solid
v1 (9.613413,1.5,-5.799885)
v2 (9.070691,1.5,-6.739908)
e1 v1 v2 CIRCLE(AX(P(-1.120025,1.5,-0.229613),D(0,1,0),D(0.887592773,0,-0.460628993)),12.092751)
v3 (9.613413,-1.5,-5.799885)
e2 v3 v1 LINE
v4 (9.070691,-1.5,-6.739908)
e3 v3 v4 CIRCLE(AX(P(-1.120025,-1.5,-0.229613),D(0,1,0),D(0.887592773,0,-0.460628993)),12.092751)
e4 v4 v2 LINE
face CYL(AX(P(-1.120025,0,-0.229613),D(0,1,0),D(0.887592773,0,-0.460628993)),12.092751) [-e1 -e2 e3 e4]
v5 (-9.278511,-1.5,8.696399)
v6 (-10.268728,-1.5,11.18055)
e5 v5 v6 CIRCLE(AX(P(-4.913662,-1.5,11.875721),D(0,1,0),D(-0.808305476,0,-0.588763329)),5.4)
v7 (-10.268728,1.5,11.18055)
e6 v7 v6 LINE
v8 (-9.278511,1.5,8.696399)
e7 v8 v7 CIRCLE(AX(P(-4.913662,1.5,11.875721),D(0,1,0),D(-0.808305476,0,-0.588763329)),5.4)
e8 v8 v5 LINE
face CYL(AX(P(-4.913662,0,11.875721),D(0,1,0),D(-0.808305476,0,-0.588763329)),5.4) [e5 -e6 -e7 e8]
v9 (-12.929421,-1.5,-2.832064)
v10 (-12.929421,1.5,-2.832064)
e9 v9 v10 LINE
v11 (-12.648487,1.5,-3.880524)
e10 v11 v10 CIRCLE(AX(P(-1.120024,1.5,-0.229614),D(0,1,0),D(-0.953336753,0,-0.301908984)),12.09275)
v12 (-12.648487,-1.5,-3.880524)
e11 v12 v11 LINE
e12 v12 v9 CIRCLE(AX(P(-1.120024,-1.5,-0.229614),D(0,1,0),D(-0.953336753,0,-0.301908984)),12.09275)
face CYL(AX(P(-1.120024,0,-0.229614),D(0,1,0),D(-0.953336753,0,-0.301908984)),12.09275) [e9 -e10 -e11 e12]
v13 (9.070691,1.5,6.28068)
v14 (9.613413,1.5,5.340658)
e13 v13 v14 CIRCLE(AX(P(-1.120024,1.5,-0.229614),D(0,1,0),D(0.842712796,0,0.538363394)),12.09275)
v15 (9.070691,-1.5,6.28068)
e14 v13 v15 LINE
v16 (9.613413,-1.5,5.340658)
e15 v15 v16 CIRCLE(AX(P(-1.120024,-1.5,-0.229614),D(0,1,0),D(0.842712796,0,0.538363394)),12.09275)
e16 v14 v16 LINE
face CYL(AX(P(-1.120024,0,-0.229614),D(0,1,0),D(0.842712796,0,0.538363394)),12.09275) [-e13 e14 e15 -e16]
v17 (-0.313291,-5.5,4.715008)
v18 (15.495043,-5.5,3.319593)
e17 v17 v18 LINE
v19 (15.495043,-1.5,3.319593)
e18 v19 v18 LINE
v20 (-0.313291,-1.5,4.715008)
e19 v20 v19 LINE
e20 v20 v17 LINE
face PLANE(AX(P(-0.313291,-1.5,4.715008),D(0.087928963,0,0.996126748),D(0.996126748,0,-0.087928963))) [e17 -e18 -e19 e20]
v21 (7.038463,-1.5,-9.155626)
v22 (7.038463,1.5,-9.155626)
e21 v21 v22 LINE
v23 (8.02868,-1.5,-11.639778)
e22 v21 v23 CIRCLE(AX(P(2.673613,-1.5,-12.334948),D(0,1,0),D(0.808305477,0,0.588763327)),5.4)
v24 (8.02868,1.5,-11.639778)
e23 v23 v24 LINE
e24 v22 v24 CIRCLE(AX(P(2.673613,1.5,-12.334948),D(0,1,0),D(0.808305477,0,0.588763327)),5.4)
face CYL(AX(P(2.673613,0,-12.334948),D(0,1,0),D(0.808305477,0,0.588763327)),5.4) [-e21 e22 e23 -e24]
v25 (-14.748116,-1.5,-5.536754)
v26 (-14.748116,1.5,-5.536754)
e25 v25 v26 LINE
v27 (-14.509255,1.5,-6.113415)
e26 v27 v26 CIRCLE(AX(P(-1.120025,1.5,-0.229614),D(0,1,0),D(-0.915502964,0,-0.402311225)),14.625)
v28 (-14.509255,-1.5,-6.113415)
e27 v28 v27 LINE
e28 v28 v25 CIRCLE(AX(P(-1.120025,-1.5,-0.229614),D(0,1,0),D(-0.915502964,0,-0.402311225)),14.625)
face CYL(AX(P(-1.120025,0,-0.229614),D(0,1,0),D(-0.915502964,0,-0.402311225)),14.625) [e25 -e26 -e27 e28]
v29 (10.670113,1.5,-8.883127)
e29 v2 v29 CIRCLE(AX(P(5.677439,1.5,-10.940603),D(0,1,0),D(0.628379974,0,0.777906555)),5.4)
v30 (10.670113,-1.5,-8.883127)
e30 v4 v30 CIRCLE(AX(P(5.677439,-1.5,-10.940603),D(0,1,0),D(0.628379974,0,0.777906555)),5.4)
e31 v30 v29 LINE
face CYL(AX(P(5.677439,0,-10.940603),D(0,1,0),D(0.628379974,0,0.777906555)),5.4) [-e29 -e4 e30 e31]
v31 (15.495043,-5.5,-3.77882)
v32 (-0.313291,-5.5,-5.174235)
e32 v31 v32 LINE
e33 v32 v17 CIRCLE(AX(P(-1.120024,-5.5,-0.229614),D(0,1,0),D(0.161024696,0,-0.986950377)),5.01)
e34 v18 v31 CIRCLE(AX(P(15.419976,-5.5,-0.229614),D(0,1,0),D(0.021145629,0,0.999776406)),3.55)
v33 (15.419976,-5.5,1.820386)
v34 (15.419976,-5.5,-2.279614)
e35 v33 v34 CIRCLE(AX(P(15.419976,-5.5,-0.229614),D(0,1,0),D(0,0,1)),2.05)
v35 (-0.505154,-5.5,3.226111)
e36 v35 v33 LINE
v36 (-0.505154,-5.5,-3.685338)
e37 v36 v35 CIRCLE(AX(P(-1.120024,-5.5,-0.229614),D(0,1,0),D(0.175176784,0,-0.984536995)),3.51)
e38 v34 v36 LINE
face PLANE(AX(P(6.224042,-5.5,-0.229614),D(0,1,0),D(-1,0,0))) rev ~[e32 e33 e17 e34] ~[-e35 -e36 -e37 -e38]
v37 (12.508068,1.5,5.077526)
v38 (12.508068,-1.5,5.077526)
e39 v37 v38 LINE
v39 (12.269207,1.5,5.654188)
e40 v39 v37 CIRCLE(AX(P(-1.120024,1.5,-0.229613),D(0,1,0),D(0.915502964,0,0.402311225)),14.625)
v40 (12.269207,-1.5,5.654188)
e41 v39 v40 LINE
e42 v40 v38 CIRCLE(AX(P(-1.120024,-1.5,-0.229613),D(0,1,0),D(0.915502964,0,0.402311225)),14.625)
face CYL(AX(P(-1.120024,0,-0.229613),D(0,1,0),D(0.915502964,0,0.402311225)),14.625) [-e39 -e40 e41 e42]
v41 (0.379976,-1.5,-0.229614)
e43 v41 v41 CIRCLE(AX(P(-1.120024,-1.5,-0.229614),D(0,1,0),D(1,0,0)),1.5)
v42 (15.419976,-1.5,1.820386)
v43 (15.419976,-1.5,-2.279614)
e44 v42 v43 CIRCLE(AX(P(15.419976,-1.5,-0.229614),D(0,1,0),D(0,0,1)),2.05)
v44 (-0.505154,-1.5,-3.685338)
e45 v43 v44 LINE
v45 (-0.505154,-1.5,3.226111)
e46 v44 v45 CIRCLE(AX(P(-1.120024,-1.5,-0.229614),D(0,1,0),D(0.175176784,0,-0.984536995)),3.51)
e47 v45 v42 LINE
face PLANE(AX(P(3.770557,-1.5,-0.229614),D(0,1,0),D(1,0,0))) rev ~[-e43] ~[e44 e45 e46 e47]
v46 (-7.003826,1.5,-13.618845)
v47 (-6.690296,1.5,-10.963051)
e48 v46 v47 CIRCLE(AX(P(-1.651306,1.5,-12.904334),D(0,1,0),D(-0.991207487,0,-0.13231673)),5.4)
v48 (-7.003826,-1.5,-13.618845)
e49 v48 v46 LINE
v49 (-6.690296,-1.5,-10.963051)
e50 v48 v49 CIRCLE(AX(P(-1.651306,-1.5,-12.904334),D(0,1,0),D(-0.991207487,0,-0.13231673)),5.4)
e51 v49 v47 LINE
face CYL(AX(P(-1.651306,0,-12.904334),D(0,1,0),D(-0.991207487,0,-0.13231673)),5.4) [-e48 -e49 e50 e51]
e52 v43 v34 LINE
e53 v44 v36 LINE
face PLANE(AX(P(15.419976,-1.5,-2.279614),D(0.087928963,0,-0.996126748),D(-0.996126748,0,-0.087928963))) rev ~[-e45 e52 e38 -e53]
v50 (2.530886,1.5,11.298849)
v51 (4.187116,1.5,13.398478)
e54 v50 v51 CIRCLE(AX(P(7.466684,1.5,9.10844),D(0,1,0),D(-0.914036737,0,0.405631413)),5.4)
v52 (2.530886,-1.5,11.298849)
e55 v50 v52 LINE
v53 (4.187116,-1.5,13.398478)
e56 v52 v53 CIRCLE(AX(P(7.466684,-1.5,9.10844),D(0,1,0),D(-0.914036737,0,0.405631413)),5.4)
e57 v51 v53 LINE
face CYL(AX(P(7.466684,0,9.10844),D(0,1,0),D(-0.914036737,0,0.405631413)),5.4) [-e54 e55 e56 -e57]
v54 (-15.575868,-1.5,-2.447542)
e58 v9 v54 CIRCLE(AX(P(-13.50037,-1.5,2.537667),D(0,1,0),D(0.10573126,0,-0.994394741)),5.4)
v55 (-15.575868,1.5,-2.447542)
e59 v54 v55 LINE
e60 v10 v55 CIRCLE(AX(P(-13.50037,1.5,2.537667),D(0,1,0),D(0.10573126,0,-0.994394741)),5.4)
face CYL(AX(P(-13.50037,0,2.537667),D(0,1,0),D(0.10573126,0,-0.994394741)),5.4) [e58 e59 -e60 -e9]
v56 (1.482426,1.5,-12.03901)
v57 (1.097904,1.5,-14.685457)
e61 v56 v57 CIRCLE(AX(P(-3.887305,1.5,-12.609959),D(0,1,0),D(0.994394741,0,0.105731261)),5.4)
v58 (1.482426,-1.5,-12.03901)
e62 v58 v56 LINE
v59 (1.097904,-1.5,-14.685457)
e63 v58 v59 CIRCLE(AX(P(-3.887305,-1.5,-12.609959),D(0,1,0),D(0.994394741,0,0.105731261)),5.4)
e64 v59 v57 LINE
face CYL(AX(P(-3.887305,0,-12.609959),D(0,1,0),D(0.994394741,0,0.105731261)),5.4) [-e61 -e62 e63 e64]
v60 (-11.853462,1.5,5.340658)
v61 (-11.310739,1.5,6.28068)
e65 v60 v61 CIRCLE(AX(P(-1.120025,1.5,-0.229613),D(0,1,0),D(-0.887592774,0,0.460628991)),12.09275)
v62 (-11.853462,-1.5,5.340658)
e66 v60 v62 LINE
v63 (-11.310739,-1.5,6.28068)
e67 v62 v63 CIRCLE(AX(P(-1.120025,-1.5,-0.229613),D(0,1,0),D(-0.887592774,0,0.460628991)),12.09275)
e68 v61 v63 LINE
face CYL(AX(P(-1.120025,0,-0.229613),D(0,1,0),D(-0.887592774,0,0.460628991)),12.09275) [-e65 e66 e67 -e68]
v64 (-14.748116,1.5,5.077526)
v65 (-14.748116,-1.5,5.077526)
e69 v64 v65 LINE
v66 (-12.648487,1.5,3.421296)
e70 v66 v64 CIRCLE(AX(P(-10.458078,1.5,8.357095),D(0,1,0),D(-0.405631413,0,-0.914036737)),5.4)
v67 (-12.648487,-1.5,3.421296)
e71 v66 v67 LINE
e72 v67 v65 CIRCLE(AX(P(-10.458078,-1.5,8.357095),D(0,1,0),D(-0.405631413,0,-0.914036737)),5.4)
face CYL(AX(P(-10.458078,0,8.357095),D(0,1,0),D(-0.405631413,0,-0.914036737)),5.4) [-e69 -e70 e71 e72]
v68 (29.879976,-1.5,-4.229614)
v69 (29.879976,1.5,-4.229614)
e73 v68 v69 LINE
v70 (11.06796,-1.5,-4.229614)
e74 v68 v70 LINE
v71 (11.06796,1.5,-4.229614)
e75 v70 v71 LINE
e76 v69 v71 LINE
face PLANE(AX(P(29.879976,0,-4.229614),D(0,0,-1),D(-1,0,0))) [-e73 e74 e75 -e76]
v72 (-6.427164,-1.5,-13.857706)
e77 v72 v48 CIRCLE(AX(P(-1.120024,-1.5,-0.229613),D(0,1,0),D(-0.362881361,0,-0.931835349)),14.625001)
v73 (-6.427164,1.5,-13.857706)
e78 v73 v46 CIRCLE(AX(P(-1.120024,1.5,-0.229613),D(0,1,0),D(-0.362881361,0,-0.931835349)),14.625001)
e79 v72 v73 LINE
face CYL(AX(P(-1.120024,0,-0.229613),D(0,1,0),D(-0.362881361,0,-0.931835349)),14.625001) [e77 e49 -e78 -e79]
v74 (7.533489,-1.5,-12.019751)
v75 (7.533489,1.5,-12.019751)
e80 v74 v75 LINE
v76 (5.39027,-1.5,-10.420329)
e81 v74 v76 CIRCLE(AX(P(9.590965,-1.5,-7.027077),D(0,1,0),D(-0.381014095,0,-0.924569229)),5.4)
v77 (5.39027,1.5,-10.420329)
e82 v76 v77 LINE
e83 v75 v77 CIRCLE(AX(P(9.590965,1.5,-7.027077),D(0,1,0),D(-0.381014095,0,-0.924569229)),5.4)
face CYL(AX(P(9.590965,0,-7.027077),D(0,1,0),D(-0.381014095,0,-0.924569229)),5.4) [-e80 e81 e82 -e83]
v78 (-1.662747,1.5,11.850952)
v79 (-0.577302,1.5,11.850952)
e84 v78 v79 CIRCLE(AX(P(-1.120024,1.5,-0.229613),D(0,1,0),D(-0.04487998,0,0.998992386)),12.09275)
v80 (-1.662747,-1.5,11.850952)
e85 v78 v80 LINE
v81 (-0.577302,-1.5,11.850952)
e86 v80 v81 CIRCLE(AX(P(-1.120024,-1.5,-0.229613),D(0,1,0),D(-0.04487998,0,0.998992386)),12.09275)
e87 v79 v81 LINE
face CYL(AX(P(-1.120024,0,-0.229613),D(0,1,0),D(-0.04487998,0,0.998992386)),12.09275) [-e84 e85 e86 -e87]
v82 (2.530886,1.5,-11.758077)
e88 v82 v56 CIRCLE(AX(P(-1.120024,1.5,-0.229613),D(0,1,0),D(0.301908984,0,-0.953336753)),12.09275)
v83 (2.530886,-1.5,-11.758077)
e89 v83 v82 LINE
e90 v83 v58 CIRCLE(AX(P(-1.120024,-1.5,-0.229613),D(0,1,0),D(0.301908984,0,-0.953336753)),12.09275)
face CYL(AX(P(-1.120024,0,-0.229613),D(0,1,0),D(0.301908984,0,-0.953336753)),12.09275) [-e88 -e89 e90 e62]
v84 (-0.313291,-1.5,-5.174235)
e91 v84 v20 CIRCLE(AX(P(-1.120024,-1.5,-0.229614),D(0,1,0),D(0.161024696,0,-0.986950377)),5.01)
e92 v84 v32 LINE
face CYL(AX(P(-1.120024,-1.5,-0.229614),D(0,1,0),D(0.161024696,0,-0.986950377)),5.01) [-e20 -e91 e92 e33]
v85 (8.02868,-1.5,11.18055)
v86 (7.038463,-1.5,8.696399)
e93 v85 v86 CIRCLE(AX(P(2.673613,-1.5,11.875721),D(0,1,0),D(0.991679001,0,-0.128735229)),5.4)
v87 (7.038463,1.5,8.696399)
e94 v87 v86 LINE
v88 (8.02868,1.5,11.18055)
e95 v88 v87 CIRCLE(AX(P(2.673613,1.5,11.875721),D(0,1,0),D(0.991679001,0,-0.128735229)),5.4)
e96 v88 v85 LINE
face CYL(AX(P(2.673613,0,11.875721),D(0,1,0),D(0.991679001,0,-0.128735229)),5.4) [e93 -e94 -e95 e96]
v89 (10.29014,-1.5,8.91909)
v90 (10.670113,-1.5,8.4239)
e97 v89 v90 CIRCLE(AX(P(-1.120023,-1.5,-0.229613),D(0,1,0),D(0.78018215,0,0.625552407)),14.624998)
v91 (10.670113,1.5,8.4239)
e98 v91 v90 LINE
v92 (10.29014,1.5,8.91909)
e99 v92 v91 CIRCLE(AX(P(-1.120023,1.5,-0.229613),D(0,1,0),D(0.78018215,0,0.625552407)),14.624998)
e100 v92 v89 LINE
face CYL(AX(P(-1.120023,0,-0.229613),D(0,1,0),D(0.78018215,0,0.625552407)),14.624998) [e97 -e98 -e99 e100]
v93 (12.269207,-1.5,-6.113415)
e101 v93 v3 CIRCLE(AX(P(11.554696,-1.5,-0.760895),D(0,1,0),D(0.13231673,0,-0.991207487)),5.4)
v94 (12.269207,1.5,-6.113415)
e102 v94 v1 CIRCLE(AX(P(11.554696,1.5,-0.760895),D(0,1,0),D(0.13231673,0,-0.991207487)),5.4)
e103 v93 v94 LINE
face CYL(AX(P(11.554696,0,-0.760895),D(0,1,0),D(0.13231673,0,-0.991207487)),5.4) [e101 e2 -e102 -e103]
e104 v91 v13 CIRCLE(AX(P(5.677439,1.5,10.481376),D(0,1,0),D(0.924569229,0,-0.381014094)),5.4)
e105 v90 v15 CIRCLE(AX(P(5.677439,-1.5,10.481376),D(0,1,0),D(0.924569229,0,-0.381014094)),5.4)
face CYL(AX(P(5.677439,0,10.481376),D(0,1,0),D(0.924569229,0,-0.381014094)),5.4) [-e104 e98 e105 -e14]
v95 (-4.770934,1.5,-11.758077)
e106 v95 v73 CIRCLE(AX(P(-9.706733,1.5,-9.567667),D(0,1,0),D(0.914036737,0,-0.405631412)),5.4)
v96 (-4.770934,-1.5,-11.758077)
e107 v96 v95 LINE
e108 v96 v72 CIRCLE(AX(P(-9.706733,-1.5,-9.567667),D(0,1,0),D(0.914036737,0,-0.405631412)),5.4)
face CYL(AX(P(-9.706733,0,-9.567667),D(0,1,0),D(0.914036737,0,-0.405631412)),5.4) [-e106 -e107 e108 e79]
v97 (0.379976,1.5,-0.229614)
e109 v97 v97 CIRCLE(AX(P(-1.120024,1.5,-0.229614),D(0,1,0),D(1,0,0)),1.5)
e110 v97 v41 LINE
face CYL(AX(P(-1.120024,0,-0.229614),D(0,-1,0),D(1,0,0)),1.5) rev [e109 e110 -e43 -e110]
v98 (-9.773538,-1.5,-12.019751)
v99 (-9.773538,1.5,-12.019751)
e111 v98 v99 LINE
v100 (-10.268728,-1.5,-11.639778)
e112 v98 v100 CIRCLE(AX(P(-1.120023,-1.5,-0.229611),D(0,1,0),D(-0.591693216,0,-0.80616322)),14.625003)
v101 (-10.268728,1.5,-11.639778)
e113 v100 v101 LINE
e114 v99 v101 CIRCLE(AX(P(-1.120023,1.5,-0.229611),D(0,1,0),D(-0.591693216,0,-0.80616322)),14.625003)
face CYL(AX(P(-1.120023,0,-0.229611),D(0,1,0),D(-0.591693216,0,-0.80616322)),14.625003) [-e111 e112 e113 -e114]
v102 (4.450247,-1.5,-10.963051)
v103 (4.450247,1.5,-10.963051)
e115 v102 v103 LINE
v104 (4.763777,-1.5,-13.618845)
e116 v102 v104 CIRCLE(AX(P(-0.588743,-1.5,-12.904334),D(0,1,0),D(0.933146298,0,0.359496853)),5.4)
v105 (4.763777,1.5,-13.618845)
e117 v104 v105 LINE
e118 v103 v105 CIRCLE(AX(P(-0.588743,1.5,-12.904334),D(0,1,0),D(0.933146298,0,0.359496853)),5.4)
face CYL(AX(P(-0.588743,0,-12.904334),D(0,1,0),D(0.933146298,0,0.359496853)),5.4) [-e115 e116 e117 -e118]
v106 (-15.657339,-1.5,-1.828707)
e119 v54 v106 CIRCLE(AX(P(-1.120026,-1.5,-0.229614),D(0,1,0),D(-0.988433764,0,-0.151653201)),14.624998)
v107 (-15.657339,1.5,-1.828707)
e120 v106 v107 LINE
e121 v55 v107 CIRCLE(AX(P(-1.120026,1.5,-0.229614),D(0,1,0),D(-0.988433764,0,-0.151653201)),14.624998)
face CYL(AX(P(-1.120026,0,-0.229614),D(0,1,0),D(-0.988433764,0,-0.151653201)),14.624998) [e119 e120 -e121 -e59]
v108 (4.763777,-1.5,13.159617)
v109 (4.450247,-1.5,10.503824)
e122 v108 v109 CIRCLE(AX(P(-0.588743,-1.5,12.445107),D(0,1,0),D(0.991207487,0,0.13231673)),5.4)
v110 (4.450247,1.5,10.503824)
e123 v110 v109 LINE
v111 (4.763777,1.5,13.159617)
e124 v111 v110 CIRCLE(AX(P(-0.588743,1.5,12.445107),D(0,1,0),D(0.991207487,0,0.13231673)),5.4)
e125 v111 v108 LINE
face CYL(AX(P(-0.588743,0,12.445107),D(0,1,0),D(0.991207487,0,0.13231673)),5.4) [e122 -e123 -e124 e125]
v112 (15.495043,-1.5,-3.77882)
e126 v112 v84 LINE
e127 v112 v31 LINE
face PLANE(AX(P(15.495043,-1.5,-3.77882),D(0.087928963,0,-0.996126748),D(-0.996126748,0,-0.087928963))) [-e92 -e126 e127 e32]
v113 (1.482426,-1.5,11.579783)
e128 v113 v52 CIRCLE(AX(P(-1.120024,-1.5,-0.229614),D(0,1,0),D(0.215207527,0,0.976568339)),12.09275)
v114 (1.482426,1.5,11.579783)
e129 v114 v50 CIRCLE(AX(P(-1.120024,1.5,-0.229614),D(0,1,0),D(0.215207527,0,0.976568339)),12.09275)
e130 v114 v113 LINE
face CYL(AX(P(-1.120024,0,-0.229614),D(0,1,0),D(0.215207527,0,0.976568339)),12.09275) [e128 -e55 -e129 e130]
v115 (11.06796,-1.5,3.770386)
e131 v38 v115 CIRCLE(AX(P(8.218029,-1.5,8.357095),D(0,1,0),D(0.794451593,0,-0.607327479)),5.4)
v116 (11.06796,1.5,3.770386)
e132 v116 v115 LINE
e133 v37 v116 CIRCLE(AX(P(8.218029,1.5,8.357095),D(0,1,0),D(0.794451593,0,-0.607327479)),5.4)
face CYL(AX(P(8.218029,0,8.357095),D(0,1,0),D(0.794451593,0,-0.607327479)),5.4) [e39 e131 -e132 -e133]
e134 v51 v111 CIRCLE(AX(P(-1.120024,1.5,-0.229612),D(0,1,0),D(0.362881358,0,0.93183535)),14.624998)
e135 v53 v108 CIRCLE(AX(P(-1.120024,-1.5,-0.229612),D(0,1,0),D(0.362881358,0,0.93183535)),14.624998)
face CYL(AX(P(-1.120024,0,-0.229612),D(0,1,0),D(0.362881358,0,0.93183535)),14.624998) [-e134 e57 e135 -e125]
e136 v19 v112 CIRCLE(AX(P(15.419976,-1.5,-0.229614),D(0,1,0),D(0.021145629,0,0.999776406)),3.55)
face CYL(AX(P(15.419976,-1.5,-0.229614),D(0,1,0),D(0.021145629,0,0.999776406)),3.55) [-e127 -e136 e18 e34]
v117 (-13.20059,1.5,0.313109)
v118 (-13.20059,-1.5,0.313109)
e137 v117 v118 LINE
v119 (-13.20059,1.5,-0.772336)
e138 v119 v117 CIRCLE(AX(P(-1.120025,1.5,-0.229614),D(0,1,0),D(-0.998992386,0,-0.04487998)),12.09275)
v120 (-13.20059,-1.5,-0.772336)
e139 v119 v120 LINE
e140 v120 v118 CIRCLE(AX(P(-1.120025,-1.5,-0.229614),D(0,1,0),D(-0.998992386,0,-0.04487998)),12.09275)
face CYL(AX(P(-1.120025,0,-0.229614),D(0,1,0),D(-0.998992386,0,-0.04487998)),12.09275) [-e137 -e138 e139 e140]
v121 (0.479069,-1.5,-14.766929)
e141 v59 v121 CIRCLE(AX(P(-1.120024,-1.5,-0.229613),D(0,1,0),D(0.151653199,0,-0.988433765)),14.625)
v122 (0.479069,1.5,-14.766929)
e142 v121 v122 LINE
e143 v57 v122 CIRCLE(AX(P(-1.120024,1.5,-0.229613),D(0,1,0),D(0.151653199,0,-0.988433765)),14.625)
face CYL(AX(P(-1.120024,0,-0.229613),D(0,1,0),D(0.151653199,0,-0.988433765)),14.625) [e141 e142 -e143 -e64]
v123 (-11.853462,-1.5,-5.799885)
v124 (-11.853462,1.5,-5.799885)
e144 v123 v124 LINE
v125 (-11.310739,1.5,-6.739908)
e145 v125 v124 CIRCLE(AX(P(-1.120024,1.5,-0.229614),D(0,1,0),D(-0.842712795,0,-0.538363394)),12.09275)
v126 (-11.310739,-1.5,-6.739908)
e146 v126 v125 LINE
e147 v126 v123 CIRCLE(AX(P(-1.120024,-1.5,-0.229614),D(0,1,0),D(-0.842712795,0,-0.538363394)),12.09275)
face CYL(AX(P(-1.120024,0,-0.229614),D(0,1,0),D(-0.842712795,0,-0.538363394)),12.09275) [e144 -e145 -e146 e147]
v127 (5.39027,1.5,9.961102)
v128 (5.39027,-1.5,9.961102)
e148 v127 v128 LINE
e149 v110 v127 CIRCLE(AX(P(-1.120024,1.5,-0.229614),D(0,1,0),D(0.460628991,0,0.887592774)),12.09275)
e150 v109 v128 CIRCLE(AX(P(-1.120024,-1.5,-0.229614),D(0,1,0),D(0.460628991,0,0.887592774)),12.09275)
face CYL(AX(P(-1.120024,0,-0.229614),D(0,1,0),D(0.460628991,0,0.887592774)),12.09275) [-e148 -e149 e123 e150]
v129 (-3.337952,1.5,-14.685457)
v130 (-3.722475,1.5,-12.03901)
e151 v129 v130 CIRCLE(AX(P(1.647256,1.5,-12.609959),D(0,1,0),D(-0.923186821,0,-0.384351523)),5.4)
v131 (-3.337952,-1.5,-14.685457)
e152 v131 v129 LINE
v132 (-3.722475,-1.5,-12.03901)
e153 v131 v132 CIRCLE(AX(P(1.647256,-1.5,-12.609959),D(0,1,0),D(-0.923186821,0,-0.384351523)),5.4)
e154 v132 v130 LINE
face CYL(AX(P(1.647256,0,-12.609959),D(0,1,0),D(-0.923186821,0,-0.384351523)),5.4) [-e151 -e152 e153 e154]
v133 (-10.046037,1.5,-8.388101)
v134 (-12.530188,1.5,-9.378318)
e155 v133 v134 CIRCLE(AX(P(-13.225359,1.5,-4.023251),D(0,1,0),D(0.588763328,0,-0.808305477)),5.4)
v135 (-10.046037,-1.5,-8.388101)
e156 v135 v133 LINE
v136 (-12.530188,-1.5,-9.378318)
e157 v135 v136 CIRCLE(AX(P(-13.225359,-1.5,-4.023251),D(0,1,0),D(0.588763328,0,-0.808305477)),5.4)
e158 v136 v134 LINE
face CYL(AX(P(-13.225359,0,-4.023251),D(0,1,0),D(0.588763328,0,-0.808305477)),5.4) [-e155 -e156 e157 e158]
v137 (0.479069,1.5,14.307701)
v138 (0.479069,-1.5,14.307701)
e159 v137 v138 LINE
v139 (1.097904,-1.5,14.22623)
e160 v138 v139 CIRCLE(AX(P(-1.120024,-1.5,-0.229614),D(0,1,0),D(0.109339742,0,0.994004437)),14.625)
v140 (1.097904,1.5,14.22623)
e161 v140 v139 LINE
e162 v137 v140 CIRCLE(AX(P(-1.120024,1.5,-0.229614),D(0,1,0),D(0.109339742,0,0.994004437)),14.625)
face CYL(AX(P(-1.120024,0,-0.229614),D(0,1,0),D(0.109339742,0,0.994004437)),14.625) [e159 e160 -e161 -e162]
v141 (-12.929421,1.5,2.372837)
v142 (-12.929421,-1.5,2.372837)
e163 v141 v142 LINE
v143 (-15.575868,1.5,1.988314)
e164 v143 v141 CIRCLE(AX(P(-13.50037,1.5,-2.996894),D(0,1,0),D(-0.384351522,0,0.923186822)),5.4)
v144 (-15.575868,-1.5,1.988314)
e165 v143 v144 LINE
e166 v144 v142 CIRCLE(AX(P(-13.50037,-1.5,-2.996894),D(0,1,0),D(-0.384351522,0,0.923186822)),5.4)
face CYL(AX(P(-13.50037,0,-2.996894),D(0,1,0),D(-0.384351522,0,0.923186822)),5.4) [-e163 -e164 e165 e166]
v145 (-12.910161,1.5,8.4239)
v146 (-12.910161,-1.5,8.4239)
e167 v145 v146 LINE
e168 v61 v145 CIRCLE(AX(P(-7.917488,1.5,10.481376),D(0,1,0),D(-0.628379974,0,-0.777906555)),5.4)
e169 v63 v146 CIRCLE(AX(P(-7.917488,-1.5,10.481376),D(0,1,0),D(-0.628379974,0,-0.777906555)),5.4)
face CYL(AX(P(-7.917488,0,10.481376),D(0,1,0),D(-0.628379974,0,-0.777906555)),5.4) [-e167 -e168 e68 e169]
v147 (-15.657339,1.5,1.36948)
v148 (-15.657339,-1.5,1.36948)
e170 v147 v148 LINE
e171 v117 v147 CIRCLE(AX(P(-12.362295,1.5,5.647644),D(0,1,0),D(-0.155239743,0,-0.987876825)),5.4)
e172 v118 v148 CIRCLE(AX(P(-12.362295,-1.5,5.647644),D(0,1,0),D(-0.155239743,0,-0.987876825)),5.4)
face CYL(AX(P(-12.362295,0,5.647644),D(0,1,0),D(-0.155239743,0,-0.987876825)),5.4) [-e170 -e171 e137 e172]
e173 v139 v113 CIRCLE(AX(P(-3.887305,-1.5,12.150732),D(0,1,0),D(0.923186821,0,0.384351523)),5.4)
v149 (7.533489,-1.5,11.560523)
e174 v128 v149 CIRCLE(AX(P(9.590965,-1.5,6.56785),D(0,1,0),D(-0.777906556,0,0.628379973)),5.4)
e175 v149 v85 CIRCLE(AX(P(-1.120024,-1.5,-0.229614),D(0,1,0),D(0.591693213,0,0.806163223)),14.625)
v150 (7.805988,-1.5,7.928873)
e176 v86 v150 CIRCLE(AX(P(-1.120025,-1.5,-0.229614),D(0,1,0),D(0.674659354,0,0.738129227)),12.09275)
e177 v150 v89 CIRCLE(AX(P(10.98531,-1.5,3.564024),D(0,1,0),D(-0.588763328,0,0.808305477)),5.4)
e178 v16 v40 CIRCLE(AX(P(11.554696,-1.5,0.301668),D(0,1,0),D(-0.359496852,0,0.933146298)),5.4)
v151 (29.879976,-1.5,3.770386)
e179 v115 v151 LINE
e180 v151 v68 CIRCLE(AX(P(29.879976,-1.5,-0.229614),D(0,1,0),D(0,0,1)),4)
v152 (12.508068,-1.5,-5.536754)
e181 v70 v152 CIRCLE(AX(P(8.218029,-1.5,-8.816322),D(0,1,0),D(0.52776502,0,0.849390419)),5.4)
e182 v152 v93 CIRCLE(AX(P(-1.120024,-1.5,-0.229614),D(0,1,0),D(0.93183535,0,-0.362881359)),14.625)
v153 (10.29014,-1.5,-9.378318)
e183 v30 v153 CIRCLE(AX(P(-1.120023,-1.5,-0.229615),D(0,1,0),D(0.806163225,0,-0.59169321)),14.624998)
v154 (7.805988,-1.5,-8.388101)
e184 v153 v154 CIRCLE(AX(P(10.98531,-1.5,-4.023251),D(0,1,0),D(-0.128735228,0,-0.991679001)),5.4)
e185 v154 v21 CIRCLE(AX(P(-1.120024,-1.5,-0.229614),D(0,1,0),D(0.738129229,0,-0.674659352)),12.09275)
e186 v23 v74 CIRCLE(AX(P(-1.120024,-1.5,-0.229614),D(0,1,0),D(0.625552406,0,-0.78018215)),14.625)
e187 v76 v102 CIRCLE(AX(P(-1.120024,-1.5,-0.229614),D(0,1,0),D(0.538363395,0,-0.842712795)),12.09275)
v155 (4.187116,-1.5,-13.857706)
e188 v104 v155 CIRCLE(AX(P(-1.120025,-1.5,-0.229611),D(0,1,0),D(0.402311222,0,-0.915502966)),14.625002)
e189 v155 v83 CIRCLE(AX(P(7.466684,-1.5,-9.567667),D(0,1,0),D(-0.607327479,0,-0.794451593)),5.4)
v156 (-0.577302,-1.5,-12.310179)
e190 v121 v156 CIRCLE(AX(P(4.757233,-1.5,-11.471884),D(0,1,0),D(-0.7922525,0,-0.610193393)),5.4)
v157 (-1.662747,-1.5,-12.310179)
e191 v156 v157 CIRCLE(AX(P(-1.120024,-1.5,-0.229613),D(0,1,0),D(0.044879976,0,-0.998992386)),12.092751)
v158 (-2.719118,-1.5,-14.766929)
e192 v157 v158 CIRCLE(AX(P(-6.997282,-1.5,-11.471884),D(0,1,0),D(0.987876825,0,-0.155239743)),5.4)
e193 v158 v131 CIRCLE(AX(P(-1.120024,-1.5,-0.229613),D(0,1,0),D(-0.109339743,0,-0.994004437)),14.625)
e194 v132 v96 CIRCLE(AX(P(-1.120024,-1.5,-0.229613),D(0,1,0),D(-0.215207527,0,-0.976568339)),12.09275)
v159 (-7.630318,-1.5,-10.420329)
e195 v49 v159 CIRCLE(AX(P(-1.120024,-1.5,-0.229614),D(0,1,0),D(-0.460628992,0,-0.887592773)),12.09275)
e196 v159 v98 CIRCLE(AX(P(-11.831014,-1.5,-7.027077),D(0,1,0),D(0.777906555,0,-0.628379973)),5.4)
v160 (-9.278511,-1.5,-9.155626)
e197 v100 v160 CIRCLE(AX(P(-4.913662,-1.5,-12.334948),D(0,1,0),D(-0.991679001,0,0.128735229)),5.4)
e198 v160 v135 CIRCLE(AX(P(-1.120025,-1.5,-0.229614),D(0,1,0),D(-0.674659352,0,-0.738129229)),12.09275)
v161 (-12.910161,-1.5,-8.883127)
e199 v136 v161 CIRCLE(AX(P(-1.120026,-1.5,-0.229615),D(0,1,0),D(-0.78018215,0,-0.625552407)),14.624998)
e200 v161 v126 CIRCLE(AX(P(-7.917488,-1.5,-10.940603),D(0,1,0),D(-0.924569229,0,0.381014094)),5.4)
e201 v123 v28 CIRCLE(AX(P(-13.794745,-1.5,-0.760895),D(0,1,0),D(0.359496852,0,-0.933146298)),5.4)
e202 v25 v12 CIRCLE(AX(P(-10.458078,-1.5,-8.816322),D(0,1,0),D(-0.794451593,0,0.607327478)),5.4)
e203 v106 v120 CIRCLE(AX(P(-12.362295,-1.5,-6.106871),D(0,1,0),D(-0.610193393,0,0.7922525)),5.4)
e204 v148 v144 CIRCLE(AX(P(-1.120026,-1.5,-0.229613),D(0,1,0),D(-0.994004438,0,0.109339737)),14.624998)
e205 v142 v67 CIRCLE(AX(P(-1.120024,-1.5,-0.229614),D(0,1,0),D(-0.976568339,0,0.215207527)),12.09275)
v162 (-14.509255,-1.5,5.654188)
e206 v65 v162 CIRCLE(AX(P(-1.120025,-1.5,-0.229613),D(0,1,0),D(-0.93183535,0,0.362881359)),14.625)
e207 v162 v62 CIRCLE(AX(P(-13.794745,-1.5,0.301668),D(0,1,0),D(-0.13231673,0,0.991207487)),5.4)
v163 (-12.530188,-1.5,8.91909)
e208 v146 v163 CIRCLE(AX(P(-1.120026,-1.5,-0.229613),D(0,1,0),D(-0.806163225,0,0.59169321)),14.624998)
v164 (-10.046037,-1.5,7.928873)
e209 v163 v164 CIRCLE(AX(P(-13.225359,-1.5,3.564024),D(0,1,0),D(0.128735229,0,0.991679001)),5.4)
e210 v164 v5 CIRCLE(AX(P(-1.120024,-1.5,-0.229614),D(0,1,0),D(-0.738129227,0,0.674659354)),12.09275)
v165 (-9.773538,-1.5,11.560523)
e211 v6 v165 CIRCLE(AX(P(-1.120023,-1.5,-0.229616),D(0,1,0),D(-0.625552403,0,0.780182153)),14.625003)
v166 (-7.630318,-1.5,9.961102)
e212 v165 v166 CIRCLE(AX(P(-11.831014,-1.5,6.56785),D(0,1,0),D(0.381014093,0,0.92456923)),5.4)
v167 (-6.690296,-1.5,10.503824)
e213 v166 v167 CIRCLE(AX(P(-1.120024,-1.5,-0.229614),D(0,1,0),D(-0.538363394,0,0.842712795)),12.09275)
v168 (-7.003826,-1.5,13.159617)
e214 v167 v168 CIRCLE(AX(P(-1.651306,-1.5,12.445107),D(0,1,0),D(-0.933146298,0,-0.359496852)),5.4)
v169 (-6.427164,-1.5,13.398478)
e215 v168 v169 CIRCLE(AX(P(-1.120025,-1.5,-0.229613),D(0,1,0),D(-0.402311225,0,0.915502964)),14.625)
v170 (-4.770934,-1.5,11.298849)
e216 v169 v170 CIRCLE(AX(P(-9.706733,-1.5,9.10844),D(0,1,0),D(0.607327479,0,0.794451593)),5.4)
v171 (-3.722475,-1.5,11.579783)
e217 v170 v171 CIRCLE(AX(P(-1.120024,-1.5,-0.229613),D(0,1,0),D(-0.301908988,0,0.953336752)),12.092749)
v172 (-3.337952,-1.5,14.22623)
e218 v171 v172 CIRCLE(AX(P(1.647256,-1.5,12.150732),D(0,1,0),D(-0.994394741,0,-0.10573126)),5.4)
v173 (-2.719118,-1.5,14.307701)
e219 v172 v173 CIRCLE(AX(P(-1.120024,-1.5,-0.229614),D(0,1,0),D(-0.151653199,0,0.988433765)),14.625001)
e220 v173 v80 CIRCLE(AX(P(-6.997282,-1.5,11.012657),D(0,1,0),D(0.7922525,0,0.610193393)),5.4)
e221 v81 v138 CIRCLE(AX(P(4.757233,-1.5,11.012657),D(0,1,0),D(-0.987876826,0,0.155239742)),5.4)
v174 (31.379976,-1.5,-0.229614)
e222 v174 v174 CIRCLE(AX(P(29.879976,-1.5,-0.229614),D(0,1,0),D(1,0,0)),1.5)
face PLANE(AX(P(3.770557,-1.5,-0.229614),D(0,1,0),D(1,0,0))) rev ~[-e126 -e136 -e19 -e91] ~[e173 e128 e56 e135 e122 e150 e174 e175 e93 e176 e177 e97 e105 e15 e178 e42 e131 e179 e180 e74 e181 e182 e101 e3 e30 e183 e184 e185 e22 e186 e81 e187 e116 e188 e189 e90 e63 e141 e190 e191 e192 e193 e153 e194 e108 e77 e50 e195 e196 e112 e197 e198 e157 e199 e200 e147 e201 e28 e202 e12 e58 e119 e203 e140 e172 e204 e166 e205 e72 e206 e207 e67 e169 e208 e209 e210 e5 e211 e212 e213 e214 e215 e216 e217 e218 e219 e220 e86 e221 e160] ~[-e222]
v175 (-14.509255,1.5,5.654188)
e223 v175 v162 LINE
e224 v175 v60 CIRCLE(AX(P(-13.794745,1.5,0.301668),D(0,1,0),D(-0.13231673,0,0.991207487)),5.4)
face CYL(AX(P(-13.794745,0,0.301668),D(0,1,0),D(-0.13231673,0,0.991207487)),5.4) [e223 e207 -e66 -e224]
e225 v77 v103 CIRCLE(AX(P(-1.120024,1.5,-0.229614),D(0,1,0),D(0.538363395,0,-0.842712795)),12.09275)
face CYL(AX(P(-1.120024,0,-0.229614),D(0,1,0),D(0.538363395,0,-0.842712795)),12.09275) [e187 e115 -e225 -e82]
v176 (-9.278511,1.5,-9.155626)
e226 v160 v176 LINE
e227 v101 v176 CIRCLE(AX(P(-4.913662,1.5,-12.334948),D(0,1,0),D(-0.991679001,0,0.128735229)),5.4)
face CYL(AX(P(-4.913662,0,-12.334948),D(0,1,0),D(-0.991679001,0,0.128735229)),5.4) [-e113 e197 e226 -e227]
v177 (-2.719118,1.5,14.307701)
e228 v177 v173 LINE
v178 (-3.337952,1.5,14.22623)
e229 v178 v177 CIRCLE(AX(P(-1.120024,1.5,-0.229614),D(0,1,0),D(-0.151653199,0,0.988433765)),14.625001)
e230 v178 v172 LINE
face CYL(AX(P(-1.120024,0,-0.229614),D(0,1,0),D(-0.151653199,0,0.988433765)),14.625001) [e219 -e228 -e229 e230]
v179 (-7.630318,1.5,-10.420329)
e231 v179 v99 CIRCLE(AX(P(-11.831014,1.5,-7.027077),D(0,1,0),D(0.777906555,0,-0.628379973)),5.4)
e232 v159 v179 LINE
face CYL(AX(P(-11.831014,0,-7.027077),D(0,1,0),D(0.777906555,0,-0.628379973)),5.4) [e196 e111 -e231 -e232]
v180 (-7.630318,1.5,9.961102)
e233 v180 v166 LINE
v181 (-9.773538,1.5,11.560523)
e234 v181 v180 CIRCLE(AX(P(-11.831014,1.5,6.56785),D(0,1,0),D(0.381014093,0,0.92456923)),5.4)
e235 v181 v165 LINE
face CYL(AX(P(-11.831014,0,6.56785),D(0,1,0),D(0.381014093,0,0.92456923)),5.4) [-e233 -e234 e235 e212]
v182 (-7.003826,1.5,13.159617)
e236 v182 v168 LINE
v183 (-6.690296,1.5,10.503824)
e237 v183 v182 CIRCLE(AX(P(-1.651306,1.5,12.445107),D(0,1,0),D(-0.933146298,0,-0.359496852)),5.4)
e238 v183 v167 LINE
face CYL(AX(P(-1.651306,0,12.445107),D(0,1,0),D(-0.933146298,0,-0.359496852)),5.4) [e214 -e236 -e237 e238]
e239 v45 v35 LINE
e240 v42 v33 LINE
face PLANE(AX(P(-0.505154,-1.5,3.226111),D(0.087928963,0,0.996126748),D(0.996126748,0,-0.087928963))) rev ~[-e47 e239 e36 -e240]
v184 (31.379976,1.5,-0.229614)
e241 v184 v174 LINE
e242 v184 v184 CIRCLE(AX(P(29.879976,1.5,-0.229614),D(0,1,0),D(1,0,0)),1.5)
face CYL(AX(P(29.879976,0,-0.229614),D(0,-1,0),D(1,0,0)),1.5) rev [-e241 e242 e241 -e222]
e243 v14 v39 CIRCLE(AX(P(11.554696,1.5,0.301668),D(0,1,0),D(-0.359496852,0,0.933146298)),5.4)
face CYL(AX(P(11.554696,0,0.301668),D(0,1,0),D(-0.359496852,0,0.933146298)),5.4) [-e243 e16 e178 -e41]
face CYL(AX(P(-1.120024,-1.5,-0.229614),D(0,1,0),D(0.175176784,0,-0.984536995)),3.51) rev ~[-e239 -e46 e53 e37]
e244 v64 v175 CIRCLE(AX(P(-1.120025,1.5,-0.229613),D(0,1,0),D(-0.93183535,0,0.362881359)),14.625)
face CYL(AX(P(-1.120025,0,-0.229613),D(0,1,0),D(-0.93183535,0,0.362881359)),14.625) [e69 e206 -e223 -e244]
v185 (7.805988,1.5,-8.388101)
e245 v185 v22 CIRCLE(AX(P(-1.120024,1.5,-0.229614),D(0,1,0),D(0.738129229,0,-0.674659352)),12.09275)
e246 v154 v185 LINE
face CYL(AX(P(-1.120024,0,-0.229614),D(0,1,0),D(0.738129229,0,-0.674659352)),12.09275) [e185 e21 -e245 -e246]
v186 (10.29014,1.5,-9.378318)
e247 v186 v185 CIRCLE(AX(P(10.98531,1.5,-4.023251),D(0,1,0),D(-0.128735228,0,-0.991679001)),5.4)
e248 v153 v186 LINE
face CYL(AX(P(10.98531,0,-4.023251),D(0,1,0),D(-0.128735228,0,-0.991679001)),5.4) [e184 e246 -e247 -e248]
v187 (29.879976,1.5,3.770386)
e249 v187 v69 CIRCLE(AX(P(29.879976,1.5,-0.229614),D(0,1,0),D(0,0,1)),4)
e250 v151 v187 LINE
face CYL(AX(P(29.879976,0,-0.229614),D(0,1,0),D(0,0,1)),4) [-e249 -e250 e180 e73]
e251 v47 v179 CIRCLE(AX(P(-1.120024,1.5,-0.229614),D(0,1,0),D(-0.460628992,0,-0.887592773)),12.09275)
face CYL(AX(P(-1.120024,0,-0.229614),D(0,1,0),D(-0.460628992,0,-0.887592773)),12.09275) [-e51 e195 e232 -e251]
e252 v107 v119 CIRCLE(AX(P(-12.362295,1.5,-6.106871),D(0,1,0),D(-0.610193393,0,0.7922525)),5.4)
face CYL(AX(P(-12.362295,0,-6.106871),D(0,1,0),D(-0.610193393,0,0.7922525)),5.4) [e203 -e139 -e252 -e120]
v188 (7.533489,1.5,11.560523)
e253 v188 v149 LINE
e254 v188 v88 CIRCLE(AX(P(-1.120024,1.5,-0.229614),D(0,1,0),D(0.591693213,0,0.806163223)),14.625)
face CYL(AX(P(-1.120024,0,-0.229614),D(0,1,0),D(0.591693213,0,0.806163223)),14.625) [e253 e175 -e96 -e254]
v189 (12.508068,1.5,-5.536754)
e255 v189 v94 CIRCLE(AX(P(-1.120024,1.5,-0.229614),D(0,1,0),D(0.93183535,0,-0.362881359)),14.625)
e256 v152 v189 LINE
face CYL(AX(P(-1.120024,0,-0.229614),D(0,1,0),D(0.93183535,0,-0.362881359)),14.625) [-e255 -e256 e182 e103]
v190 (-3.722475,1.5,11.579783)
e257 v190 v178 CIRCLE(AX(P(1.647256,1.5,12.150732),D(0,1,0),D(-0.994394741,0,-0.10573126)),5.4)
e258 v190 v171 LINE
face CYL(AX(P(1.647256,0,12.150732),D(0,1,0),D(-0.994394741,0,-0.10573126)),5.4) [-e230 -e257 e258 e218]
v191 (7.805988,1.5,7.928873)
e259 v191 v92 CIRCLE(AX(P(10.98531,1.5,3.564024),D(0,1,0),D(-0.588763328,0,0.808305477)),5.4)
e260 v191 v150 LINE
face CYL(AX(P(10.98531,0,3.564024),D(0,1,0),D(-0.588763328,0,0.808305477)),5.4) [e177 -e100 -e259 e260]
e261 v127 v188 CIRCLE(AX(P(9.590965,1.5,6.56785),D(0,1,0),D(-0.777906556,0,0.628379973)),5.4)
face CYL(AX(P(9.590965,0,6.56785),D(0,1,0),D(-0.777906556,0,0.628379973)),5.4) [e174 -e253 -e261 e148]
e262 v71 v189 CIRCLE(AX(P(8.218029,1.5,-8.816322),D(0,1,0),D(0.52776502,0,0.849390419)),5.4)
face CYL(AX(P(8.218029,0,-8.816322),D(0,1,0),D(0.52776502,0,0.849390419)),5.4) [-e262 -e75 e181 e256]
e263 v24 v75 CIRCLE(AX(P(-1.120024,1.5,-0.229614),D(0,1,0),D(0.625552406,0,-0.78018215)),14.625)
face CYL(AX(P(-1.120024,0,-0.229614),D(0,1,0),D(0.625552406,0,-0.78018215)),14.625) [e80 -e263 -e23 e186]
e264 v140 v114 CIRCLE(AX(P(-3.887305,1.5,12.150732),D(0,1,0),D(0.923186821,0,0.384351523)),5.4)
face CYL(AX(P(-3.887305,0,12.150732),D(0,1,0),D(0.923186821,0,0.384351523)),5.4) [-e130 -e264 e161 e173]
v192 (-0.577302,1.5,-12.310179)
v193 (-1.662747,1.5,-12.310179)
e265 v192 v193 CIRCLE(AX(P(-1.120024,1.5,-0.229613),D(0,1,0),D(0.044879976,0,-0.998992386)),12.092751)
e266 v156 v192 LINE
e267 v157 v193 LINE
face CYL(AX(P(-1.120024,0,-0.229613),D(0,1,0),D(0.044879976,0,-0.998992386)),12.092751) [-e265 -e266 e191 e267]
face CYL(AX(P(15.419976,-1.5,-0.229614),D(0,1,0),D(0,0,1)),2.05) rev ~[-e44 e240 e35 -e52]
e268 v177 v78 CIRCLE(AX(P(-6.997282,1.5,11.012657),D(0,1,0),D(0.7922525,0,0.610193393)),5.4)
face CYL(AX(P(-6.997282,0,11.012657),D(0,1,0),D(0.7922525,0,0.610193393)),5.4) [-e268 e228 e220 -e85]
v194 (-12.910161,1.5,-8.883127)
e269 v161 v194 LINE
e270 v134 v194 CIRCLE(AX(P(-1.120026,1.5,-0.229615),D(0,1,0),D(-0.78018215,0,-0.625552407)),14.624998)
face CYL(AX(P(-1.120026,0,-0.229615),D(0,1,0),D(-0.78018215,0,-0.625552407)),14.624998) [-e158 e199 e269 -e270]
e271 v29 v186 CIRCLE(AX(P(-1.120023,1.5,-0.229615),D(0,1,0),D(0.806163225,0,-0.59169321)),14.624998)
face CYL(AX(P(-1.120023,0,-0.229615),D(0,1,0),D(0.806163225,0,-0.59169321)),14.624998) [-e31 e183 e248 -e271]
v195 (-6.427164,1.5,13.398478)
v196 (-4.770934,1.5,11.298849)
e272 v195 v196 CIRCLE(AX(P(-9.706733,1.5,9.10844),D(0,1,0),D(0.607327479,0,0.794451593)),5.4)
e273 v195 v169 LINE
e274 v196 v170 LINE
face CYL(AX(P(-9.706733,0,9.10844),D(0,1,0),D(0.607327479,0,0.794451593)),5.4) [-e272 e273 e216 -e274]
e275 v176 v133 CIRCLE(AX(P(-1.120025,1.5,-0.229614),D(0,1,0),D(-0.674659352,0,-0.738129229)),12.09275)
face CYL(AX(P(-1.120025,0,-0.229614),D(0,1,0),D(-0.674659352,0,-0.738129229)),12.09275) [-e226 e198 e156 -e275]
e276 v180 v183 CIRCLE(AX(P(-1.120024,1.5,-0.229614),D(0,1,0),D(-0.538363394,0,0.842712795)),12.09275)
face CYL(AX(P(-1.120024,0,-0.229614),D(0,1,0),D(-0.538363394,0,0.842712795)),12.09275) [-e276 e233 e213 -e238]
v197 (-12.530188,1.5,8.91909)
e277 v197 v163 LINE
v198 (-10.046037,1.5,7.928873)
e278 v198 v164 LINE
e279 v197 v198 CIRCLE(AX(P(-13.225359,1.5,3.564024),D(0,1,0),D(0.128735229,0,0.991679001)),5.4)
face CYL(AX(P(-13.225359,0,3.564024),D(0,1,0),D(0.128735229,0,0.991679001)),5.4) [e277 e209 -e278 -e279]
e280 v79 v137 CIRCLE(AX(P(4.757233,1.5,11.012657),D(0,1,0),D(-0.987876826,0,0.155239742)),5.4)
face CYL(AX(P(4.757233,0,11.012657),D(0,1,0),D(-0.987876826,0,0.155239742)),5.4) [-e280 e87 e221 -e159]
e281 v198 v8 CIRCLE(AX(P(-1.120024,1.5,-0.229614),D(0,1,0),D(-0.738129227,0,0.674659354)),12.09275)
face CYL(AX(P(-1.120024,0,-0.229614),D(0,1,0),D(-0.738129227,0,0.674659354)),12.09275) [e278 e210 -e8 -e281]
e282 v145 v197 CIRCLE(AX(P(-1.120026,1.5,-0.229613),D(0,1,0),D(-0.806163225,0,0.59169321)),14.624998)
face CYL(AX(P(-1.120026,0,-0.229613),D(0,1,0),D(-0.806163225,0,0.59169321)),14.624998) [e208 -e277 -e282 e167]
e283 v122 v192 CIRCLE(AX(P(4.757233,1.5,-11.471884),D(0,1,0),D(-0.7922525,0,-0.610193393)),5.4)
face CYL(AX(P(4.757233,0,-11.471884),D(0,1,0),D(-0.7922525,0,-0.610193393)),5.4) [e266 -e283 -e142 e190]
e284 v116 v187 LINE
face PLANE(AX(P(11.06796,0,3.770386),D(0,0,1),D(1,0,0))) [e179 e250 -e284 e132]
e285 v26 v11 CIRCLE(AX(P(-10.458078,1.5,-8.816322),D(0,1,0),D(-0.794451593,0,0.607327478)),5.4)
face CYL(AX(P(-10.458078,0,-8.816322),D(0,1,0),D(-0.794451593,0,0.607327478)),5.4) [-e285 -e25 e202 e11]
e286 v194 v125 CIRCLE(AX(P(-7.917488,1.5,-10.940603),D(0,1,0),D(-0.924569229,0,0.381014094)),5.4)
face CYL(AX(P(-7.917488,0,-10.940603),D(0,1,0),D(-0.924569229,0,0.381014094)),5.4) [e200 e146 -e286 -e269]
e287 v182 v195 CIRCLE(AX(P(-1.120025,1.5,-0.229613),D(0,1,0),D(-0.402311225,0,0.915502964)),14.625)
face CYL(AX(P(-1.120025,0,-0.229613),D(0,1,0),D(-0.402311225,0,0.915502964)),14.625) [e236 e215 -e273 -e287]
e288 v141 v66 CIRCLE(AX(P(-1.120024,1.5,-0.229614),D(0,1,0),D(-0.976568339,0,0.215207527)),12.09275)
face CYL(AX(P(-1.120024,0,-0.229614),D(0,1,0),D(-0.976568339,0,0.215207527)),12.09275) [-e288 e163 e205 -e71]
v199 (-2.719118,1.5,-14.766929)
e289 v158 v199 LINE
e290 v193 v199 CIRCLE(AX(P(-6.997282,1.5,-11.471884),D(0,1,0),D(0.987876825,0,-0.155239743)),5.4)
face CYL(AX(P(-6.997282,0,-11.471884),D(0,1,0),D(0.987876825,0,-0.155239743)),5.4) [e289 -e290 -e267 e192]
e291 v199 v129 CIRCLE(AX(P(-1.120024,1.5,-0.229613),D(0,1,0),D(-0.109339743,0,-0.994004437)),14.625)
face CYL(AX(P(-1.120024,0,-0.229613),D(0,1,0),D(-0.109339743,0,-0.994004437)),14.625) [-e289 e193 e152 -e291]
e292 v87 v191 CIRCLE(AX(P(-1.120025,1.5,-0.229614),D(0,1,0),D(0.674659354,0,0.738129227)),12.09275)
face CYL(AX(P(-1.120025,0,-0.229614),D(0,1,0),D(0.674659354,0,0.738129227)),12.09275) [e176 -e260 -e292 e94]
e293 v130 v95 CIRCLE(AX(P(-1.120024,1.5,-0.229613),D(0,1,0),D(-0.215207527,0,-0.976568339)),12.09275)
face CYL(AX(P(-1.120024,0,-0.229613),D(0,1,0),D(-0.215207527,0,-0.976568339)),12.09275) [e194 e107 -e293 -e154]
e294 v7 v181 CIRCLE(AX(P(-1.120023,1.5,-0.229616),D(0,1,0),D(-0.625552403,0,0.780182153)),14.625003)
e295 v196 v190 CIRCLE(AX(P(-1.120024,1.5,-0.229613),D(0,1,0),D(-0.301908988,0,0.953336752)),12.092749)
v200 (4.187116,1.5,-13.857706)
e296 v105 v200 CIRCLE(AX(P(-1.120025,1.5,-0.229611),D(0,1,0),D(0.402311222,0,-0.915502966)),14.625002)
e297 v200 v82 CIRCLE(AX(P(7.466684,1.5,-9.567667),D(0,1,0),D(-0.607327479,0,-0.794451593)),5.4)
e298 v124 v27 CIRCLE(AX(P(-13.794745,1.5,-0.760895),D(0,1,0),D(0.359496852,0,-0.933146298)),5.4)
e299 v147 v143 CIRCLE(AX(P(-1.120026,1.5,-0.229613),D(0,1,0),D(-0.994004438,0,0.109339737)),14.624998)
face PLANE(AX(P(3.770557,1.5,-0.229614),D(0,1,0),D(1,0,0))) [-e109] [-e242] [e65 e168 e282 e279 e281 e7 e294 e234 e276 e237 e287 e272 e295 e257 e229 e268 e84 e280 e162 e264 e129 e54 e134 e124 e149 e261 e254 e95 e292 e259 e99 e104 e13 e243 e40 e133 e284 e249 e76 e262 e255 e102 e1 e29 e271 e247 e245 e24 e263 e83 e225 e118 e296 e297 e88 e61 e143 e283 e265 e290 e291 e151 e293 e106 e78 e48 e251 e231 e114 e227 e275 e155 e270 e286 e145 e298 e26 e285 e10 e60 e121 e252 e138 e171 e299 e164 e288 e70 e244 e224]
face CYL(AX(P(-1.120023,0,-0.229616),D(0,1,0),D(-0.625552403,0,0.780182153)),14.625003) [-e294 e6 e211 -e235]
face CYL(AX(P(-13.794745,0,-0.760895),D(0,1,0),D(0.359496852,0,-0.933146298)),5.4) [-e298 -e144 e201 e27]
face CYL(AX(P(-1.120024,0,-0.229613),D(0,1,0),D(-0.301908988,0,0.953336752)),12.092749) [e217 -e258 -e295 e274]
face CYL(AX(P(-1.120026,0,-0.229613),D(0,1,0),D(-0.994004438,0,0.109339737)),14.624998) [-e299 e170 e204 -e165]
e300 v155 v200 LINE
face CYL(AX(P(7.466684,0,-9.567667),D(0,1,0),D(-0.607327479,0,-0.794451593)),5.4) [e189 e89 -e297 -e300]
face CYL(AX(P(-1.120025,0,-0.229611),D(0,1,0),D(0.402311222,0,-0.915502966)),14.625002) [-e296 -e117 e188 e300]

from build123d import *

# Parameters (mm, degrees)
SKETCH1_R           = 1.5
BOSS_EXTRUDE1_DEPTH = 1.5
BOSS_EXTRUDE2_DEPTH = 4


with BuildPart() as part:
    # Sketch1 → Boss-Extrude1 (new body, symmetric)
    with BuildSketch(Plane(origin=(0, 0, 0), x_dir=(1, 0, 0), z_dir=(0, 1, 0))):
        with BuildLine():
            Line((11.067960149, -3.770386358), (29.879975659, -3.770386358))
            ThreePointArc((29.879975659, -3.770386358), (33.879975659, 0.229613642), (29.879975659, 4.229613642))
            Line((29.879975659, 4.229613642), (11.067960149, 4.229613642))
            ThreePointArc((11.067960149, 4.229613642), (11.847346546, 4.817815376), (12.508067649, 5.536753523))
            ThreePointArc((12.508067649, 5.536753523), (12.391713822, 5.826358841), (12.269206518, 6.113415305))
            ThreePointArc((12.269206518, 6.113415305), (10.921594192, 6.123653667), (9.613413173, 5.799884882))
            ThreePointArc((9.613413173, 5.799884882), (9.35260436, 6.275988642), (9.070690816, 6.73990758))
            ThreePointArc((9.070690816, 6.73990758), (10.005173318, 7.710941183), (10.670112799, 8.883126872))
            ThreePointArc((10.670112799, 8.883126872), (10.482768261, 9.132749542), (10.290139612, 9.378317571))
            ThreePointArc((10.290139612, 9.378317571), (8.985796179, 9.039419334), (7.805987876, 8.38810054))
            ThreePointArc((7.805987876, 8.38810054), (7.430841187, 8.780479171), (7.038462557, 9.155625859))
            ThreePointArc((7.038462557, 9.155625859), (7.68978135, 10.335434163), (8.028679587, 11.639777595))
            ThreePointArc((8.028679587, 11.639777595), (7.783111558, 11.832406244), (7.533488888, 12.019750783))
            ThreePointArc((7.533488888, 12.019750783), (6.361303199, 11.354811301), (5.390269597, 10.420328799))
            ThreePointArc((5.390269597, 10.420328799), (4.926350659, 10.702242344), (4.450246898, 10.963051157))
            ThreePointArc((4.450246898, 10.963051157), (4.774015684, 12.271232176), (4.763777322, 13.618844501))
            ThreePointArc((4.763777322, 13.618844501), (4.476720857, 13.741351805), (4.187115539, 13.857705633))
            ThreePointArc((4.187115539, 13.857705633), (3.22697011, 12.912039434), (2.530885544, 11.758076661))
            ThreePointArc((2.530885544, 11.758076661), (2.009809666, 11.910313178), (1.48242646, 12.039010426))
            ThreePointArc((1.48242646, 12.039010426), (1.45658093, 13.386413785), (1.097903696, 14.685457451))
            ThreePointArc((1.097903696, 14.685457451), (0.78892122, 14.72949474), (0.479069377, 14.766928535))
            ThreePointArc((0.479069377, 14.766928535), (-0.203603467, 13.604981207), (-0.577301983, 12.31017882))
            ThreePointArc((-0.577301983, 12.31017882), (-1.120024341, 12.322363642), (-1.662746699, 12.31017882))
            ThreePointArc((-1.662746699, 12.31017882), (-2.036445216, 13.604981207), (-2.71911806, 14.766928535))
            ThreePointArc((-2.71911806, 14.766928535), (-3.028969902, 14.72949474), (-3.337952378, 14.685457451))
            ThreePointArc((-3.337952378, 14.685457451), (-3.696629612, 13.386413785), (-3.722475143, 12.039010426))
            ThreePointArc((-3.722475143, 12.039010426), (-4.249858349, 11.910313178), (-4.770934227, 11.758076661))
            ThreePointArc((-4.770934227, 11.758076661), (-5.467018792, 12.912039434), (-6.427164221, 13.857705633))
            ThreePointArc((-6.427164221, 13.857705633), (-6.71676954, 13.741351805), (-7.003826004, 13.618844501))
            ThreePointArc((-7.003826004, 13.618844501), (-7.014064366, 12.271232176), (-6.690295581, 10.963051157))
            ThreePointArc((-6.690295581, 10.963051157), (-7.166399341, 10.702242344), (-7.630318279, 10.420328799))
            ThreePointArc((-7.630318279, 10.420328799), (-8.601351881, 11.354811301), (-9.773537571, 12.019750783))
            ThreePointArc((-9.773537571, 12.019750783), (-10.02316024, 11.832406244), (-10.26872827, 11.639777595))
            ThreePointArc((-10.26872827, 11.639777595), (-9.929830033, 10.335434163), (-9.278511239, 9.155625859))
            ThreePointArc((-9.278511239, 9.155625859), (-9.670889869, 8.780479171), (-10.046036558, 8.38810054))
            ThreePointArc((-10.046036558, 8.38810054), (-11.225844862, 9.039419334), (-12.530188294, 9.378317571))
            ThreePointArc((-12.530188294, 9.378317571), (-12.722816943, 9.132749542), (-12.910161481, 8.883126872))
            ThreePointArc((-12.910161481, 8.883126872), (-12.245222, 7.710941183), (-11.310739498, 6.73990758))
            ThreePointArc((-11.310739498, 6.73990758), (-11.592653043, 6.275988642), (-11.853461856, 5.799884882))
            ThreePointArc((-11.853461856, 5.799884882), (-13.161642874, 6.123653667), (-14.5092552, 6.113415305))
            ThreePointArc((-14.5092552, 6.113415305), (-14.631762504, 5.826358841), (-14.748116331, 5.536753523))
            ThreePointArc((-14.748116331, 5.536753523), (-13.802450133, 4.576608094), (-12.64848736, 3.880523528))
            ThreePointArc((-12.64848736, 3.880523528), (-12.800723877, 3.35944765), (-12.929421125, 2.832064444))
            ThreePointArc((-12.929421125, 2.832064444), (-14.276824484, 2.806218913), (-15.57586815, 2.44754168))
            ThreePointArc((-15.57586815, 2.44754168), (-15.619905439, 2.138559204), (-15.657339233, 1.828707361))
            ThreePointArc((-15.657339233, 1.828707361), (-14.495391906, 1.146034517), (-13.200589518, 0.772336))
            ThreePointArc((-13.200589518, 0.772336), (-13.212774341, 0.229613642), (-13.200589518, -0.313108715))
            ThreePointArc((-13.200589518, -0.313108715), (-14.495391906, -0.686807232), (-15.657339233, -1.369480076))
            ThreePointArc((-15.657339233, -1.369480076), (-15.619905439, -1.679331919), (-15.57586815, -1.988314395))
            ThreePointArc((-15.57586815, -1.988314395), (-14.276824484, -2.346991628), (-12.929421125, -2.372837159))
            ThreePointArc((-12.929421125, -2.372837159), (-12.800723877, -2.900220365), (-12.64848736, -3.421296243))
            ThreePointArc((-12.64848736, -3.421296243), (-13.802450133, -4.117380809), (-14.748116331, -5.077526238))
            ThreePointArc((-14.748116331, -5.077526238), (-14.631762504, -5.367131556), (-14.5092552, -5.65418802))
            ThreePointArc((-14.5092552, -5.65418802), (-13.161642874, -5.664426382), (-11.853461856, -5.340657597))
            ThreePointArc((-11.853461856, -5.340657597), (-11.592653043, -5.816761358), (-11.310739498, -6.280680295))
            ThreePointArc((-11.310739498, -6.280680295), (-12.245222, -7.251713898), (-12.910161481, -8.423899587))
            ThreePointArc((-12.910161481, -8.423899587), (-12.722816943, -8.673522257), (-12.530188294, -8.919090286))
            ThreePointArc((-12.530188294, -8.919090286), (-11.225844862, -8.580192049), (-10.046036558, -7.928873256))
            ThreePointArc((-10.046036558, -7.928873256), (-9.670889869, -8.321251886), (-9.278511239, -8.696398575))
            ThreePointArc((-9.278511239, -8.696398575), (-9.929830033, -9.876206878), (-10.26872827, -11.18055031))
            ThreePointArc((-10.26872827, -11.18055031), (-10.02316024, -11.373178959), (-9.773537571, -11.560523498))
            ThreePointArc((-9.773537571, -11.560523498), (-8.601351881, -10.895584017), (-7.630318279, -9.961101514))
            ThreePointArc((-7.630318279, -9.961101514), (-7.166399341, -10.243015059), (-6.690295581, -10.503823872))
            ThreePointArc((-6.690295581, -10.503823872), (-7.014064366, -11.812004891), (-7.003826004, -13.159617217))
            ThreePointArc((-7.003826004, -13.159617217), (-6.71676954, -13.282124521), (-6.427164222, -13.398478348))
            ThreePointArc((-6.427164222, -13.398478348), (-5.467018793, -12.452812149), (-4.770934227, -11.298849376))
            ThreePointArc((-4.770934227, -11.298849376), (-4.249858349, -11.451085894), (-3.722475143, -11.579783141))
            ThreePointArc((-3.722475143, -11.579783141), (-3.696629612, -12.9271865), (-3.337952379, -14.226230166))
            ThreePointArc((-3.337952379, -14.226230166), (-3.028969902, -14.270267455), (-2.71911806, -14.30770125))
            ThreePointArc((-2.71911806, -14.30770125), (-2.036445216, -13.145753923), (-1.662746699, -11.850951535))
            ThreePointArc((-1.662746699, -11.850951535), (-1.120024341, -11.863136358), (-0.577301983, -11.850951535))
            ThreePointArc((-0.577301983, -11.850951535), (-0.203603467, -13.145753923), (0.479069377, -14.30770125))
            ThreePointArc((0.479069377, -14.30770125), (0.78892122, -14.270267455), (1.097903696, -14.226230166))
            ThreePointArc((1.097903696, -14.226230166), (1.45658093, -12.9271865), (1.48242646, -11.579783141))
            ThreePointArc((1.48242646, -11.579783141), (2.009809666, -11.451085893), (2.530885544, -11.298849376))
            ThreePointArc((2.530885544, -11.298849376), (3.22697011, -12.452812149), (4.187115539, -13.398478348))
            ThreePointArc((4.187115539, -13.398478348), (4.476720857, -13.282124521), (4.763777322, -13.159617216))
            ThreePointArc((4.763777322, -13.159617216), (4.774015684, -11.812004891), (4.450246898, -10.503823872))
            ThreePointArc((4.450246898, -10.503823872), (4.926350659, -10.243015059), (5.390269597, -9.961101514))
            ThreePointArc((5.390269597, -9.961101514), (6.361303199, -10.895584017), (7.533488888, -11.560523498))
            ThreePointArc((7.533488888, -11.560523498), (7.783111558, -11.373178959), (8.028679587, -11.18055031))
            ThreePointArc((8.028679587, -11.18055031), (7.68978135, -9.876206878), (7.038462557, -8.696398575))
            ThreePointArc((7.038462557, -8.696398575), (7.430841187, -8.321251886), (7.805987876, -7.928873256))
            ThreePointArc((7.805987876, -7.928873256), (8.985796179, -8.580192049), (10.290139612, -8.919090286))
            ThreePointArc((10.290139612, -8.919090286), (10.482768261, -8.673522257), (10.670112799, -8.423899587))
            ThreePointArc((10.670112799, -8.423899587), (10.005173318, -7.251713898), (9.070690816, -6.280680295))
            ThreePointArc((9.070690816, -6.280680295), (9.35260436, -5.816761358), (9.613413173, -5.340657597))
            ThreePointArc((9.613413173, -5.340657597), (10.921594192, -5.664426382), (12.269206518, -5.65418802))
            ThreePointArc((12.269206518, -5.65418802), (12.391713822, -5.367131556), (12.508067649, -5.077526238))
            ThreePointArc((12.508067649, -5.077526238), (11.847346546, -4.358588091), (11.067960149, -3.770386358))
        make_face()
        with Locations((29.879975659, 0.229613642)):
            Circle(SKETCH1_R, mode=Mode.SUBTRACT)
        with Locations((-1.120024341, 0.229613642)):
            Circle(SKETCH1_R, mode=Mode.SUBTRACT)
    extrude(amount=BOSS_EXTRUDE1_DEPTH, both=True)

    # Sketch2 → Boss-Extrude2 (add)
    with BuildSketch(Plane.XZ.offset(1.5)):
        with BuildLine():
            Line((-0.313290616, 4.715007748), (15.495042643, 3.3195926))
            ThreePointArc((15.495042643, 3.3195926), (18.969975659, -0.229613642), (15.495042643, -3.778819884))
            Line((15.495042643, -3.778819884), (-0.313290616, -5.174235033))
            ThreePointArc((-0.313290616, -5.174235033), (-6.130024341, -0.229613642), (-0.313290616, 4.715007748))
        make_face()
        with BuildLine():
            Line((-0.505153828, 3.22611121), (15.419975659, 1.820386358))
            ThreePointArc((15.419975659, 1.820386358), (17.469975659, -0.229613642), (15.419975659, -2.279613642))
            Line((15.419975659, -2.279613642), (-0.505153828, -3.685338494))
            ThreePointArc((-0.505153828, -3.685338494), (-4.630024341, -0.229613642), (-0.505153828, 3.22611121))
        make_face(mode=Mode.SUBTRACT)
    extrude(amount=BOSS_EXTRUDE2_DEPTH)


solid = part.part
